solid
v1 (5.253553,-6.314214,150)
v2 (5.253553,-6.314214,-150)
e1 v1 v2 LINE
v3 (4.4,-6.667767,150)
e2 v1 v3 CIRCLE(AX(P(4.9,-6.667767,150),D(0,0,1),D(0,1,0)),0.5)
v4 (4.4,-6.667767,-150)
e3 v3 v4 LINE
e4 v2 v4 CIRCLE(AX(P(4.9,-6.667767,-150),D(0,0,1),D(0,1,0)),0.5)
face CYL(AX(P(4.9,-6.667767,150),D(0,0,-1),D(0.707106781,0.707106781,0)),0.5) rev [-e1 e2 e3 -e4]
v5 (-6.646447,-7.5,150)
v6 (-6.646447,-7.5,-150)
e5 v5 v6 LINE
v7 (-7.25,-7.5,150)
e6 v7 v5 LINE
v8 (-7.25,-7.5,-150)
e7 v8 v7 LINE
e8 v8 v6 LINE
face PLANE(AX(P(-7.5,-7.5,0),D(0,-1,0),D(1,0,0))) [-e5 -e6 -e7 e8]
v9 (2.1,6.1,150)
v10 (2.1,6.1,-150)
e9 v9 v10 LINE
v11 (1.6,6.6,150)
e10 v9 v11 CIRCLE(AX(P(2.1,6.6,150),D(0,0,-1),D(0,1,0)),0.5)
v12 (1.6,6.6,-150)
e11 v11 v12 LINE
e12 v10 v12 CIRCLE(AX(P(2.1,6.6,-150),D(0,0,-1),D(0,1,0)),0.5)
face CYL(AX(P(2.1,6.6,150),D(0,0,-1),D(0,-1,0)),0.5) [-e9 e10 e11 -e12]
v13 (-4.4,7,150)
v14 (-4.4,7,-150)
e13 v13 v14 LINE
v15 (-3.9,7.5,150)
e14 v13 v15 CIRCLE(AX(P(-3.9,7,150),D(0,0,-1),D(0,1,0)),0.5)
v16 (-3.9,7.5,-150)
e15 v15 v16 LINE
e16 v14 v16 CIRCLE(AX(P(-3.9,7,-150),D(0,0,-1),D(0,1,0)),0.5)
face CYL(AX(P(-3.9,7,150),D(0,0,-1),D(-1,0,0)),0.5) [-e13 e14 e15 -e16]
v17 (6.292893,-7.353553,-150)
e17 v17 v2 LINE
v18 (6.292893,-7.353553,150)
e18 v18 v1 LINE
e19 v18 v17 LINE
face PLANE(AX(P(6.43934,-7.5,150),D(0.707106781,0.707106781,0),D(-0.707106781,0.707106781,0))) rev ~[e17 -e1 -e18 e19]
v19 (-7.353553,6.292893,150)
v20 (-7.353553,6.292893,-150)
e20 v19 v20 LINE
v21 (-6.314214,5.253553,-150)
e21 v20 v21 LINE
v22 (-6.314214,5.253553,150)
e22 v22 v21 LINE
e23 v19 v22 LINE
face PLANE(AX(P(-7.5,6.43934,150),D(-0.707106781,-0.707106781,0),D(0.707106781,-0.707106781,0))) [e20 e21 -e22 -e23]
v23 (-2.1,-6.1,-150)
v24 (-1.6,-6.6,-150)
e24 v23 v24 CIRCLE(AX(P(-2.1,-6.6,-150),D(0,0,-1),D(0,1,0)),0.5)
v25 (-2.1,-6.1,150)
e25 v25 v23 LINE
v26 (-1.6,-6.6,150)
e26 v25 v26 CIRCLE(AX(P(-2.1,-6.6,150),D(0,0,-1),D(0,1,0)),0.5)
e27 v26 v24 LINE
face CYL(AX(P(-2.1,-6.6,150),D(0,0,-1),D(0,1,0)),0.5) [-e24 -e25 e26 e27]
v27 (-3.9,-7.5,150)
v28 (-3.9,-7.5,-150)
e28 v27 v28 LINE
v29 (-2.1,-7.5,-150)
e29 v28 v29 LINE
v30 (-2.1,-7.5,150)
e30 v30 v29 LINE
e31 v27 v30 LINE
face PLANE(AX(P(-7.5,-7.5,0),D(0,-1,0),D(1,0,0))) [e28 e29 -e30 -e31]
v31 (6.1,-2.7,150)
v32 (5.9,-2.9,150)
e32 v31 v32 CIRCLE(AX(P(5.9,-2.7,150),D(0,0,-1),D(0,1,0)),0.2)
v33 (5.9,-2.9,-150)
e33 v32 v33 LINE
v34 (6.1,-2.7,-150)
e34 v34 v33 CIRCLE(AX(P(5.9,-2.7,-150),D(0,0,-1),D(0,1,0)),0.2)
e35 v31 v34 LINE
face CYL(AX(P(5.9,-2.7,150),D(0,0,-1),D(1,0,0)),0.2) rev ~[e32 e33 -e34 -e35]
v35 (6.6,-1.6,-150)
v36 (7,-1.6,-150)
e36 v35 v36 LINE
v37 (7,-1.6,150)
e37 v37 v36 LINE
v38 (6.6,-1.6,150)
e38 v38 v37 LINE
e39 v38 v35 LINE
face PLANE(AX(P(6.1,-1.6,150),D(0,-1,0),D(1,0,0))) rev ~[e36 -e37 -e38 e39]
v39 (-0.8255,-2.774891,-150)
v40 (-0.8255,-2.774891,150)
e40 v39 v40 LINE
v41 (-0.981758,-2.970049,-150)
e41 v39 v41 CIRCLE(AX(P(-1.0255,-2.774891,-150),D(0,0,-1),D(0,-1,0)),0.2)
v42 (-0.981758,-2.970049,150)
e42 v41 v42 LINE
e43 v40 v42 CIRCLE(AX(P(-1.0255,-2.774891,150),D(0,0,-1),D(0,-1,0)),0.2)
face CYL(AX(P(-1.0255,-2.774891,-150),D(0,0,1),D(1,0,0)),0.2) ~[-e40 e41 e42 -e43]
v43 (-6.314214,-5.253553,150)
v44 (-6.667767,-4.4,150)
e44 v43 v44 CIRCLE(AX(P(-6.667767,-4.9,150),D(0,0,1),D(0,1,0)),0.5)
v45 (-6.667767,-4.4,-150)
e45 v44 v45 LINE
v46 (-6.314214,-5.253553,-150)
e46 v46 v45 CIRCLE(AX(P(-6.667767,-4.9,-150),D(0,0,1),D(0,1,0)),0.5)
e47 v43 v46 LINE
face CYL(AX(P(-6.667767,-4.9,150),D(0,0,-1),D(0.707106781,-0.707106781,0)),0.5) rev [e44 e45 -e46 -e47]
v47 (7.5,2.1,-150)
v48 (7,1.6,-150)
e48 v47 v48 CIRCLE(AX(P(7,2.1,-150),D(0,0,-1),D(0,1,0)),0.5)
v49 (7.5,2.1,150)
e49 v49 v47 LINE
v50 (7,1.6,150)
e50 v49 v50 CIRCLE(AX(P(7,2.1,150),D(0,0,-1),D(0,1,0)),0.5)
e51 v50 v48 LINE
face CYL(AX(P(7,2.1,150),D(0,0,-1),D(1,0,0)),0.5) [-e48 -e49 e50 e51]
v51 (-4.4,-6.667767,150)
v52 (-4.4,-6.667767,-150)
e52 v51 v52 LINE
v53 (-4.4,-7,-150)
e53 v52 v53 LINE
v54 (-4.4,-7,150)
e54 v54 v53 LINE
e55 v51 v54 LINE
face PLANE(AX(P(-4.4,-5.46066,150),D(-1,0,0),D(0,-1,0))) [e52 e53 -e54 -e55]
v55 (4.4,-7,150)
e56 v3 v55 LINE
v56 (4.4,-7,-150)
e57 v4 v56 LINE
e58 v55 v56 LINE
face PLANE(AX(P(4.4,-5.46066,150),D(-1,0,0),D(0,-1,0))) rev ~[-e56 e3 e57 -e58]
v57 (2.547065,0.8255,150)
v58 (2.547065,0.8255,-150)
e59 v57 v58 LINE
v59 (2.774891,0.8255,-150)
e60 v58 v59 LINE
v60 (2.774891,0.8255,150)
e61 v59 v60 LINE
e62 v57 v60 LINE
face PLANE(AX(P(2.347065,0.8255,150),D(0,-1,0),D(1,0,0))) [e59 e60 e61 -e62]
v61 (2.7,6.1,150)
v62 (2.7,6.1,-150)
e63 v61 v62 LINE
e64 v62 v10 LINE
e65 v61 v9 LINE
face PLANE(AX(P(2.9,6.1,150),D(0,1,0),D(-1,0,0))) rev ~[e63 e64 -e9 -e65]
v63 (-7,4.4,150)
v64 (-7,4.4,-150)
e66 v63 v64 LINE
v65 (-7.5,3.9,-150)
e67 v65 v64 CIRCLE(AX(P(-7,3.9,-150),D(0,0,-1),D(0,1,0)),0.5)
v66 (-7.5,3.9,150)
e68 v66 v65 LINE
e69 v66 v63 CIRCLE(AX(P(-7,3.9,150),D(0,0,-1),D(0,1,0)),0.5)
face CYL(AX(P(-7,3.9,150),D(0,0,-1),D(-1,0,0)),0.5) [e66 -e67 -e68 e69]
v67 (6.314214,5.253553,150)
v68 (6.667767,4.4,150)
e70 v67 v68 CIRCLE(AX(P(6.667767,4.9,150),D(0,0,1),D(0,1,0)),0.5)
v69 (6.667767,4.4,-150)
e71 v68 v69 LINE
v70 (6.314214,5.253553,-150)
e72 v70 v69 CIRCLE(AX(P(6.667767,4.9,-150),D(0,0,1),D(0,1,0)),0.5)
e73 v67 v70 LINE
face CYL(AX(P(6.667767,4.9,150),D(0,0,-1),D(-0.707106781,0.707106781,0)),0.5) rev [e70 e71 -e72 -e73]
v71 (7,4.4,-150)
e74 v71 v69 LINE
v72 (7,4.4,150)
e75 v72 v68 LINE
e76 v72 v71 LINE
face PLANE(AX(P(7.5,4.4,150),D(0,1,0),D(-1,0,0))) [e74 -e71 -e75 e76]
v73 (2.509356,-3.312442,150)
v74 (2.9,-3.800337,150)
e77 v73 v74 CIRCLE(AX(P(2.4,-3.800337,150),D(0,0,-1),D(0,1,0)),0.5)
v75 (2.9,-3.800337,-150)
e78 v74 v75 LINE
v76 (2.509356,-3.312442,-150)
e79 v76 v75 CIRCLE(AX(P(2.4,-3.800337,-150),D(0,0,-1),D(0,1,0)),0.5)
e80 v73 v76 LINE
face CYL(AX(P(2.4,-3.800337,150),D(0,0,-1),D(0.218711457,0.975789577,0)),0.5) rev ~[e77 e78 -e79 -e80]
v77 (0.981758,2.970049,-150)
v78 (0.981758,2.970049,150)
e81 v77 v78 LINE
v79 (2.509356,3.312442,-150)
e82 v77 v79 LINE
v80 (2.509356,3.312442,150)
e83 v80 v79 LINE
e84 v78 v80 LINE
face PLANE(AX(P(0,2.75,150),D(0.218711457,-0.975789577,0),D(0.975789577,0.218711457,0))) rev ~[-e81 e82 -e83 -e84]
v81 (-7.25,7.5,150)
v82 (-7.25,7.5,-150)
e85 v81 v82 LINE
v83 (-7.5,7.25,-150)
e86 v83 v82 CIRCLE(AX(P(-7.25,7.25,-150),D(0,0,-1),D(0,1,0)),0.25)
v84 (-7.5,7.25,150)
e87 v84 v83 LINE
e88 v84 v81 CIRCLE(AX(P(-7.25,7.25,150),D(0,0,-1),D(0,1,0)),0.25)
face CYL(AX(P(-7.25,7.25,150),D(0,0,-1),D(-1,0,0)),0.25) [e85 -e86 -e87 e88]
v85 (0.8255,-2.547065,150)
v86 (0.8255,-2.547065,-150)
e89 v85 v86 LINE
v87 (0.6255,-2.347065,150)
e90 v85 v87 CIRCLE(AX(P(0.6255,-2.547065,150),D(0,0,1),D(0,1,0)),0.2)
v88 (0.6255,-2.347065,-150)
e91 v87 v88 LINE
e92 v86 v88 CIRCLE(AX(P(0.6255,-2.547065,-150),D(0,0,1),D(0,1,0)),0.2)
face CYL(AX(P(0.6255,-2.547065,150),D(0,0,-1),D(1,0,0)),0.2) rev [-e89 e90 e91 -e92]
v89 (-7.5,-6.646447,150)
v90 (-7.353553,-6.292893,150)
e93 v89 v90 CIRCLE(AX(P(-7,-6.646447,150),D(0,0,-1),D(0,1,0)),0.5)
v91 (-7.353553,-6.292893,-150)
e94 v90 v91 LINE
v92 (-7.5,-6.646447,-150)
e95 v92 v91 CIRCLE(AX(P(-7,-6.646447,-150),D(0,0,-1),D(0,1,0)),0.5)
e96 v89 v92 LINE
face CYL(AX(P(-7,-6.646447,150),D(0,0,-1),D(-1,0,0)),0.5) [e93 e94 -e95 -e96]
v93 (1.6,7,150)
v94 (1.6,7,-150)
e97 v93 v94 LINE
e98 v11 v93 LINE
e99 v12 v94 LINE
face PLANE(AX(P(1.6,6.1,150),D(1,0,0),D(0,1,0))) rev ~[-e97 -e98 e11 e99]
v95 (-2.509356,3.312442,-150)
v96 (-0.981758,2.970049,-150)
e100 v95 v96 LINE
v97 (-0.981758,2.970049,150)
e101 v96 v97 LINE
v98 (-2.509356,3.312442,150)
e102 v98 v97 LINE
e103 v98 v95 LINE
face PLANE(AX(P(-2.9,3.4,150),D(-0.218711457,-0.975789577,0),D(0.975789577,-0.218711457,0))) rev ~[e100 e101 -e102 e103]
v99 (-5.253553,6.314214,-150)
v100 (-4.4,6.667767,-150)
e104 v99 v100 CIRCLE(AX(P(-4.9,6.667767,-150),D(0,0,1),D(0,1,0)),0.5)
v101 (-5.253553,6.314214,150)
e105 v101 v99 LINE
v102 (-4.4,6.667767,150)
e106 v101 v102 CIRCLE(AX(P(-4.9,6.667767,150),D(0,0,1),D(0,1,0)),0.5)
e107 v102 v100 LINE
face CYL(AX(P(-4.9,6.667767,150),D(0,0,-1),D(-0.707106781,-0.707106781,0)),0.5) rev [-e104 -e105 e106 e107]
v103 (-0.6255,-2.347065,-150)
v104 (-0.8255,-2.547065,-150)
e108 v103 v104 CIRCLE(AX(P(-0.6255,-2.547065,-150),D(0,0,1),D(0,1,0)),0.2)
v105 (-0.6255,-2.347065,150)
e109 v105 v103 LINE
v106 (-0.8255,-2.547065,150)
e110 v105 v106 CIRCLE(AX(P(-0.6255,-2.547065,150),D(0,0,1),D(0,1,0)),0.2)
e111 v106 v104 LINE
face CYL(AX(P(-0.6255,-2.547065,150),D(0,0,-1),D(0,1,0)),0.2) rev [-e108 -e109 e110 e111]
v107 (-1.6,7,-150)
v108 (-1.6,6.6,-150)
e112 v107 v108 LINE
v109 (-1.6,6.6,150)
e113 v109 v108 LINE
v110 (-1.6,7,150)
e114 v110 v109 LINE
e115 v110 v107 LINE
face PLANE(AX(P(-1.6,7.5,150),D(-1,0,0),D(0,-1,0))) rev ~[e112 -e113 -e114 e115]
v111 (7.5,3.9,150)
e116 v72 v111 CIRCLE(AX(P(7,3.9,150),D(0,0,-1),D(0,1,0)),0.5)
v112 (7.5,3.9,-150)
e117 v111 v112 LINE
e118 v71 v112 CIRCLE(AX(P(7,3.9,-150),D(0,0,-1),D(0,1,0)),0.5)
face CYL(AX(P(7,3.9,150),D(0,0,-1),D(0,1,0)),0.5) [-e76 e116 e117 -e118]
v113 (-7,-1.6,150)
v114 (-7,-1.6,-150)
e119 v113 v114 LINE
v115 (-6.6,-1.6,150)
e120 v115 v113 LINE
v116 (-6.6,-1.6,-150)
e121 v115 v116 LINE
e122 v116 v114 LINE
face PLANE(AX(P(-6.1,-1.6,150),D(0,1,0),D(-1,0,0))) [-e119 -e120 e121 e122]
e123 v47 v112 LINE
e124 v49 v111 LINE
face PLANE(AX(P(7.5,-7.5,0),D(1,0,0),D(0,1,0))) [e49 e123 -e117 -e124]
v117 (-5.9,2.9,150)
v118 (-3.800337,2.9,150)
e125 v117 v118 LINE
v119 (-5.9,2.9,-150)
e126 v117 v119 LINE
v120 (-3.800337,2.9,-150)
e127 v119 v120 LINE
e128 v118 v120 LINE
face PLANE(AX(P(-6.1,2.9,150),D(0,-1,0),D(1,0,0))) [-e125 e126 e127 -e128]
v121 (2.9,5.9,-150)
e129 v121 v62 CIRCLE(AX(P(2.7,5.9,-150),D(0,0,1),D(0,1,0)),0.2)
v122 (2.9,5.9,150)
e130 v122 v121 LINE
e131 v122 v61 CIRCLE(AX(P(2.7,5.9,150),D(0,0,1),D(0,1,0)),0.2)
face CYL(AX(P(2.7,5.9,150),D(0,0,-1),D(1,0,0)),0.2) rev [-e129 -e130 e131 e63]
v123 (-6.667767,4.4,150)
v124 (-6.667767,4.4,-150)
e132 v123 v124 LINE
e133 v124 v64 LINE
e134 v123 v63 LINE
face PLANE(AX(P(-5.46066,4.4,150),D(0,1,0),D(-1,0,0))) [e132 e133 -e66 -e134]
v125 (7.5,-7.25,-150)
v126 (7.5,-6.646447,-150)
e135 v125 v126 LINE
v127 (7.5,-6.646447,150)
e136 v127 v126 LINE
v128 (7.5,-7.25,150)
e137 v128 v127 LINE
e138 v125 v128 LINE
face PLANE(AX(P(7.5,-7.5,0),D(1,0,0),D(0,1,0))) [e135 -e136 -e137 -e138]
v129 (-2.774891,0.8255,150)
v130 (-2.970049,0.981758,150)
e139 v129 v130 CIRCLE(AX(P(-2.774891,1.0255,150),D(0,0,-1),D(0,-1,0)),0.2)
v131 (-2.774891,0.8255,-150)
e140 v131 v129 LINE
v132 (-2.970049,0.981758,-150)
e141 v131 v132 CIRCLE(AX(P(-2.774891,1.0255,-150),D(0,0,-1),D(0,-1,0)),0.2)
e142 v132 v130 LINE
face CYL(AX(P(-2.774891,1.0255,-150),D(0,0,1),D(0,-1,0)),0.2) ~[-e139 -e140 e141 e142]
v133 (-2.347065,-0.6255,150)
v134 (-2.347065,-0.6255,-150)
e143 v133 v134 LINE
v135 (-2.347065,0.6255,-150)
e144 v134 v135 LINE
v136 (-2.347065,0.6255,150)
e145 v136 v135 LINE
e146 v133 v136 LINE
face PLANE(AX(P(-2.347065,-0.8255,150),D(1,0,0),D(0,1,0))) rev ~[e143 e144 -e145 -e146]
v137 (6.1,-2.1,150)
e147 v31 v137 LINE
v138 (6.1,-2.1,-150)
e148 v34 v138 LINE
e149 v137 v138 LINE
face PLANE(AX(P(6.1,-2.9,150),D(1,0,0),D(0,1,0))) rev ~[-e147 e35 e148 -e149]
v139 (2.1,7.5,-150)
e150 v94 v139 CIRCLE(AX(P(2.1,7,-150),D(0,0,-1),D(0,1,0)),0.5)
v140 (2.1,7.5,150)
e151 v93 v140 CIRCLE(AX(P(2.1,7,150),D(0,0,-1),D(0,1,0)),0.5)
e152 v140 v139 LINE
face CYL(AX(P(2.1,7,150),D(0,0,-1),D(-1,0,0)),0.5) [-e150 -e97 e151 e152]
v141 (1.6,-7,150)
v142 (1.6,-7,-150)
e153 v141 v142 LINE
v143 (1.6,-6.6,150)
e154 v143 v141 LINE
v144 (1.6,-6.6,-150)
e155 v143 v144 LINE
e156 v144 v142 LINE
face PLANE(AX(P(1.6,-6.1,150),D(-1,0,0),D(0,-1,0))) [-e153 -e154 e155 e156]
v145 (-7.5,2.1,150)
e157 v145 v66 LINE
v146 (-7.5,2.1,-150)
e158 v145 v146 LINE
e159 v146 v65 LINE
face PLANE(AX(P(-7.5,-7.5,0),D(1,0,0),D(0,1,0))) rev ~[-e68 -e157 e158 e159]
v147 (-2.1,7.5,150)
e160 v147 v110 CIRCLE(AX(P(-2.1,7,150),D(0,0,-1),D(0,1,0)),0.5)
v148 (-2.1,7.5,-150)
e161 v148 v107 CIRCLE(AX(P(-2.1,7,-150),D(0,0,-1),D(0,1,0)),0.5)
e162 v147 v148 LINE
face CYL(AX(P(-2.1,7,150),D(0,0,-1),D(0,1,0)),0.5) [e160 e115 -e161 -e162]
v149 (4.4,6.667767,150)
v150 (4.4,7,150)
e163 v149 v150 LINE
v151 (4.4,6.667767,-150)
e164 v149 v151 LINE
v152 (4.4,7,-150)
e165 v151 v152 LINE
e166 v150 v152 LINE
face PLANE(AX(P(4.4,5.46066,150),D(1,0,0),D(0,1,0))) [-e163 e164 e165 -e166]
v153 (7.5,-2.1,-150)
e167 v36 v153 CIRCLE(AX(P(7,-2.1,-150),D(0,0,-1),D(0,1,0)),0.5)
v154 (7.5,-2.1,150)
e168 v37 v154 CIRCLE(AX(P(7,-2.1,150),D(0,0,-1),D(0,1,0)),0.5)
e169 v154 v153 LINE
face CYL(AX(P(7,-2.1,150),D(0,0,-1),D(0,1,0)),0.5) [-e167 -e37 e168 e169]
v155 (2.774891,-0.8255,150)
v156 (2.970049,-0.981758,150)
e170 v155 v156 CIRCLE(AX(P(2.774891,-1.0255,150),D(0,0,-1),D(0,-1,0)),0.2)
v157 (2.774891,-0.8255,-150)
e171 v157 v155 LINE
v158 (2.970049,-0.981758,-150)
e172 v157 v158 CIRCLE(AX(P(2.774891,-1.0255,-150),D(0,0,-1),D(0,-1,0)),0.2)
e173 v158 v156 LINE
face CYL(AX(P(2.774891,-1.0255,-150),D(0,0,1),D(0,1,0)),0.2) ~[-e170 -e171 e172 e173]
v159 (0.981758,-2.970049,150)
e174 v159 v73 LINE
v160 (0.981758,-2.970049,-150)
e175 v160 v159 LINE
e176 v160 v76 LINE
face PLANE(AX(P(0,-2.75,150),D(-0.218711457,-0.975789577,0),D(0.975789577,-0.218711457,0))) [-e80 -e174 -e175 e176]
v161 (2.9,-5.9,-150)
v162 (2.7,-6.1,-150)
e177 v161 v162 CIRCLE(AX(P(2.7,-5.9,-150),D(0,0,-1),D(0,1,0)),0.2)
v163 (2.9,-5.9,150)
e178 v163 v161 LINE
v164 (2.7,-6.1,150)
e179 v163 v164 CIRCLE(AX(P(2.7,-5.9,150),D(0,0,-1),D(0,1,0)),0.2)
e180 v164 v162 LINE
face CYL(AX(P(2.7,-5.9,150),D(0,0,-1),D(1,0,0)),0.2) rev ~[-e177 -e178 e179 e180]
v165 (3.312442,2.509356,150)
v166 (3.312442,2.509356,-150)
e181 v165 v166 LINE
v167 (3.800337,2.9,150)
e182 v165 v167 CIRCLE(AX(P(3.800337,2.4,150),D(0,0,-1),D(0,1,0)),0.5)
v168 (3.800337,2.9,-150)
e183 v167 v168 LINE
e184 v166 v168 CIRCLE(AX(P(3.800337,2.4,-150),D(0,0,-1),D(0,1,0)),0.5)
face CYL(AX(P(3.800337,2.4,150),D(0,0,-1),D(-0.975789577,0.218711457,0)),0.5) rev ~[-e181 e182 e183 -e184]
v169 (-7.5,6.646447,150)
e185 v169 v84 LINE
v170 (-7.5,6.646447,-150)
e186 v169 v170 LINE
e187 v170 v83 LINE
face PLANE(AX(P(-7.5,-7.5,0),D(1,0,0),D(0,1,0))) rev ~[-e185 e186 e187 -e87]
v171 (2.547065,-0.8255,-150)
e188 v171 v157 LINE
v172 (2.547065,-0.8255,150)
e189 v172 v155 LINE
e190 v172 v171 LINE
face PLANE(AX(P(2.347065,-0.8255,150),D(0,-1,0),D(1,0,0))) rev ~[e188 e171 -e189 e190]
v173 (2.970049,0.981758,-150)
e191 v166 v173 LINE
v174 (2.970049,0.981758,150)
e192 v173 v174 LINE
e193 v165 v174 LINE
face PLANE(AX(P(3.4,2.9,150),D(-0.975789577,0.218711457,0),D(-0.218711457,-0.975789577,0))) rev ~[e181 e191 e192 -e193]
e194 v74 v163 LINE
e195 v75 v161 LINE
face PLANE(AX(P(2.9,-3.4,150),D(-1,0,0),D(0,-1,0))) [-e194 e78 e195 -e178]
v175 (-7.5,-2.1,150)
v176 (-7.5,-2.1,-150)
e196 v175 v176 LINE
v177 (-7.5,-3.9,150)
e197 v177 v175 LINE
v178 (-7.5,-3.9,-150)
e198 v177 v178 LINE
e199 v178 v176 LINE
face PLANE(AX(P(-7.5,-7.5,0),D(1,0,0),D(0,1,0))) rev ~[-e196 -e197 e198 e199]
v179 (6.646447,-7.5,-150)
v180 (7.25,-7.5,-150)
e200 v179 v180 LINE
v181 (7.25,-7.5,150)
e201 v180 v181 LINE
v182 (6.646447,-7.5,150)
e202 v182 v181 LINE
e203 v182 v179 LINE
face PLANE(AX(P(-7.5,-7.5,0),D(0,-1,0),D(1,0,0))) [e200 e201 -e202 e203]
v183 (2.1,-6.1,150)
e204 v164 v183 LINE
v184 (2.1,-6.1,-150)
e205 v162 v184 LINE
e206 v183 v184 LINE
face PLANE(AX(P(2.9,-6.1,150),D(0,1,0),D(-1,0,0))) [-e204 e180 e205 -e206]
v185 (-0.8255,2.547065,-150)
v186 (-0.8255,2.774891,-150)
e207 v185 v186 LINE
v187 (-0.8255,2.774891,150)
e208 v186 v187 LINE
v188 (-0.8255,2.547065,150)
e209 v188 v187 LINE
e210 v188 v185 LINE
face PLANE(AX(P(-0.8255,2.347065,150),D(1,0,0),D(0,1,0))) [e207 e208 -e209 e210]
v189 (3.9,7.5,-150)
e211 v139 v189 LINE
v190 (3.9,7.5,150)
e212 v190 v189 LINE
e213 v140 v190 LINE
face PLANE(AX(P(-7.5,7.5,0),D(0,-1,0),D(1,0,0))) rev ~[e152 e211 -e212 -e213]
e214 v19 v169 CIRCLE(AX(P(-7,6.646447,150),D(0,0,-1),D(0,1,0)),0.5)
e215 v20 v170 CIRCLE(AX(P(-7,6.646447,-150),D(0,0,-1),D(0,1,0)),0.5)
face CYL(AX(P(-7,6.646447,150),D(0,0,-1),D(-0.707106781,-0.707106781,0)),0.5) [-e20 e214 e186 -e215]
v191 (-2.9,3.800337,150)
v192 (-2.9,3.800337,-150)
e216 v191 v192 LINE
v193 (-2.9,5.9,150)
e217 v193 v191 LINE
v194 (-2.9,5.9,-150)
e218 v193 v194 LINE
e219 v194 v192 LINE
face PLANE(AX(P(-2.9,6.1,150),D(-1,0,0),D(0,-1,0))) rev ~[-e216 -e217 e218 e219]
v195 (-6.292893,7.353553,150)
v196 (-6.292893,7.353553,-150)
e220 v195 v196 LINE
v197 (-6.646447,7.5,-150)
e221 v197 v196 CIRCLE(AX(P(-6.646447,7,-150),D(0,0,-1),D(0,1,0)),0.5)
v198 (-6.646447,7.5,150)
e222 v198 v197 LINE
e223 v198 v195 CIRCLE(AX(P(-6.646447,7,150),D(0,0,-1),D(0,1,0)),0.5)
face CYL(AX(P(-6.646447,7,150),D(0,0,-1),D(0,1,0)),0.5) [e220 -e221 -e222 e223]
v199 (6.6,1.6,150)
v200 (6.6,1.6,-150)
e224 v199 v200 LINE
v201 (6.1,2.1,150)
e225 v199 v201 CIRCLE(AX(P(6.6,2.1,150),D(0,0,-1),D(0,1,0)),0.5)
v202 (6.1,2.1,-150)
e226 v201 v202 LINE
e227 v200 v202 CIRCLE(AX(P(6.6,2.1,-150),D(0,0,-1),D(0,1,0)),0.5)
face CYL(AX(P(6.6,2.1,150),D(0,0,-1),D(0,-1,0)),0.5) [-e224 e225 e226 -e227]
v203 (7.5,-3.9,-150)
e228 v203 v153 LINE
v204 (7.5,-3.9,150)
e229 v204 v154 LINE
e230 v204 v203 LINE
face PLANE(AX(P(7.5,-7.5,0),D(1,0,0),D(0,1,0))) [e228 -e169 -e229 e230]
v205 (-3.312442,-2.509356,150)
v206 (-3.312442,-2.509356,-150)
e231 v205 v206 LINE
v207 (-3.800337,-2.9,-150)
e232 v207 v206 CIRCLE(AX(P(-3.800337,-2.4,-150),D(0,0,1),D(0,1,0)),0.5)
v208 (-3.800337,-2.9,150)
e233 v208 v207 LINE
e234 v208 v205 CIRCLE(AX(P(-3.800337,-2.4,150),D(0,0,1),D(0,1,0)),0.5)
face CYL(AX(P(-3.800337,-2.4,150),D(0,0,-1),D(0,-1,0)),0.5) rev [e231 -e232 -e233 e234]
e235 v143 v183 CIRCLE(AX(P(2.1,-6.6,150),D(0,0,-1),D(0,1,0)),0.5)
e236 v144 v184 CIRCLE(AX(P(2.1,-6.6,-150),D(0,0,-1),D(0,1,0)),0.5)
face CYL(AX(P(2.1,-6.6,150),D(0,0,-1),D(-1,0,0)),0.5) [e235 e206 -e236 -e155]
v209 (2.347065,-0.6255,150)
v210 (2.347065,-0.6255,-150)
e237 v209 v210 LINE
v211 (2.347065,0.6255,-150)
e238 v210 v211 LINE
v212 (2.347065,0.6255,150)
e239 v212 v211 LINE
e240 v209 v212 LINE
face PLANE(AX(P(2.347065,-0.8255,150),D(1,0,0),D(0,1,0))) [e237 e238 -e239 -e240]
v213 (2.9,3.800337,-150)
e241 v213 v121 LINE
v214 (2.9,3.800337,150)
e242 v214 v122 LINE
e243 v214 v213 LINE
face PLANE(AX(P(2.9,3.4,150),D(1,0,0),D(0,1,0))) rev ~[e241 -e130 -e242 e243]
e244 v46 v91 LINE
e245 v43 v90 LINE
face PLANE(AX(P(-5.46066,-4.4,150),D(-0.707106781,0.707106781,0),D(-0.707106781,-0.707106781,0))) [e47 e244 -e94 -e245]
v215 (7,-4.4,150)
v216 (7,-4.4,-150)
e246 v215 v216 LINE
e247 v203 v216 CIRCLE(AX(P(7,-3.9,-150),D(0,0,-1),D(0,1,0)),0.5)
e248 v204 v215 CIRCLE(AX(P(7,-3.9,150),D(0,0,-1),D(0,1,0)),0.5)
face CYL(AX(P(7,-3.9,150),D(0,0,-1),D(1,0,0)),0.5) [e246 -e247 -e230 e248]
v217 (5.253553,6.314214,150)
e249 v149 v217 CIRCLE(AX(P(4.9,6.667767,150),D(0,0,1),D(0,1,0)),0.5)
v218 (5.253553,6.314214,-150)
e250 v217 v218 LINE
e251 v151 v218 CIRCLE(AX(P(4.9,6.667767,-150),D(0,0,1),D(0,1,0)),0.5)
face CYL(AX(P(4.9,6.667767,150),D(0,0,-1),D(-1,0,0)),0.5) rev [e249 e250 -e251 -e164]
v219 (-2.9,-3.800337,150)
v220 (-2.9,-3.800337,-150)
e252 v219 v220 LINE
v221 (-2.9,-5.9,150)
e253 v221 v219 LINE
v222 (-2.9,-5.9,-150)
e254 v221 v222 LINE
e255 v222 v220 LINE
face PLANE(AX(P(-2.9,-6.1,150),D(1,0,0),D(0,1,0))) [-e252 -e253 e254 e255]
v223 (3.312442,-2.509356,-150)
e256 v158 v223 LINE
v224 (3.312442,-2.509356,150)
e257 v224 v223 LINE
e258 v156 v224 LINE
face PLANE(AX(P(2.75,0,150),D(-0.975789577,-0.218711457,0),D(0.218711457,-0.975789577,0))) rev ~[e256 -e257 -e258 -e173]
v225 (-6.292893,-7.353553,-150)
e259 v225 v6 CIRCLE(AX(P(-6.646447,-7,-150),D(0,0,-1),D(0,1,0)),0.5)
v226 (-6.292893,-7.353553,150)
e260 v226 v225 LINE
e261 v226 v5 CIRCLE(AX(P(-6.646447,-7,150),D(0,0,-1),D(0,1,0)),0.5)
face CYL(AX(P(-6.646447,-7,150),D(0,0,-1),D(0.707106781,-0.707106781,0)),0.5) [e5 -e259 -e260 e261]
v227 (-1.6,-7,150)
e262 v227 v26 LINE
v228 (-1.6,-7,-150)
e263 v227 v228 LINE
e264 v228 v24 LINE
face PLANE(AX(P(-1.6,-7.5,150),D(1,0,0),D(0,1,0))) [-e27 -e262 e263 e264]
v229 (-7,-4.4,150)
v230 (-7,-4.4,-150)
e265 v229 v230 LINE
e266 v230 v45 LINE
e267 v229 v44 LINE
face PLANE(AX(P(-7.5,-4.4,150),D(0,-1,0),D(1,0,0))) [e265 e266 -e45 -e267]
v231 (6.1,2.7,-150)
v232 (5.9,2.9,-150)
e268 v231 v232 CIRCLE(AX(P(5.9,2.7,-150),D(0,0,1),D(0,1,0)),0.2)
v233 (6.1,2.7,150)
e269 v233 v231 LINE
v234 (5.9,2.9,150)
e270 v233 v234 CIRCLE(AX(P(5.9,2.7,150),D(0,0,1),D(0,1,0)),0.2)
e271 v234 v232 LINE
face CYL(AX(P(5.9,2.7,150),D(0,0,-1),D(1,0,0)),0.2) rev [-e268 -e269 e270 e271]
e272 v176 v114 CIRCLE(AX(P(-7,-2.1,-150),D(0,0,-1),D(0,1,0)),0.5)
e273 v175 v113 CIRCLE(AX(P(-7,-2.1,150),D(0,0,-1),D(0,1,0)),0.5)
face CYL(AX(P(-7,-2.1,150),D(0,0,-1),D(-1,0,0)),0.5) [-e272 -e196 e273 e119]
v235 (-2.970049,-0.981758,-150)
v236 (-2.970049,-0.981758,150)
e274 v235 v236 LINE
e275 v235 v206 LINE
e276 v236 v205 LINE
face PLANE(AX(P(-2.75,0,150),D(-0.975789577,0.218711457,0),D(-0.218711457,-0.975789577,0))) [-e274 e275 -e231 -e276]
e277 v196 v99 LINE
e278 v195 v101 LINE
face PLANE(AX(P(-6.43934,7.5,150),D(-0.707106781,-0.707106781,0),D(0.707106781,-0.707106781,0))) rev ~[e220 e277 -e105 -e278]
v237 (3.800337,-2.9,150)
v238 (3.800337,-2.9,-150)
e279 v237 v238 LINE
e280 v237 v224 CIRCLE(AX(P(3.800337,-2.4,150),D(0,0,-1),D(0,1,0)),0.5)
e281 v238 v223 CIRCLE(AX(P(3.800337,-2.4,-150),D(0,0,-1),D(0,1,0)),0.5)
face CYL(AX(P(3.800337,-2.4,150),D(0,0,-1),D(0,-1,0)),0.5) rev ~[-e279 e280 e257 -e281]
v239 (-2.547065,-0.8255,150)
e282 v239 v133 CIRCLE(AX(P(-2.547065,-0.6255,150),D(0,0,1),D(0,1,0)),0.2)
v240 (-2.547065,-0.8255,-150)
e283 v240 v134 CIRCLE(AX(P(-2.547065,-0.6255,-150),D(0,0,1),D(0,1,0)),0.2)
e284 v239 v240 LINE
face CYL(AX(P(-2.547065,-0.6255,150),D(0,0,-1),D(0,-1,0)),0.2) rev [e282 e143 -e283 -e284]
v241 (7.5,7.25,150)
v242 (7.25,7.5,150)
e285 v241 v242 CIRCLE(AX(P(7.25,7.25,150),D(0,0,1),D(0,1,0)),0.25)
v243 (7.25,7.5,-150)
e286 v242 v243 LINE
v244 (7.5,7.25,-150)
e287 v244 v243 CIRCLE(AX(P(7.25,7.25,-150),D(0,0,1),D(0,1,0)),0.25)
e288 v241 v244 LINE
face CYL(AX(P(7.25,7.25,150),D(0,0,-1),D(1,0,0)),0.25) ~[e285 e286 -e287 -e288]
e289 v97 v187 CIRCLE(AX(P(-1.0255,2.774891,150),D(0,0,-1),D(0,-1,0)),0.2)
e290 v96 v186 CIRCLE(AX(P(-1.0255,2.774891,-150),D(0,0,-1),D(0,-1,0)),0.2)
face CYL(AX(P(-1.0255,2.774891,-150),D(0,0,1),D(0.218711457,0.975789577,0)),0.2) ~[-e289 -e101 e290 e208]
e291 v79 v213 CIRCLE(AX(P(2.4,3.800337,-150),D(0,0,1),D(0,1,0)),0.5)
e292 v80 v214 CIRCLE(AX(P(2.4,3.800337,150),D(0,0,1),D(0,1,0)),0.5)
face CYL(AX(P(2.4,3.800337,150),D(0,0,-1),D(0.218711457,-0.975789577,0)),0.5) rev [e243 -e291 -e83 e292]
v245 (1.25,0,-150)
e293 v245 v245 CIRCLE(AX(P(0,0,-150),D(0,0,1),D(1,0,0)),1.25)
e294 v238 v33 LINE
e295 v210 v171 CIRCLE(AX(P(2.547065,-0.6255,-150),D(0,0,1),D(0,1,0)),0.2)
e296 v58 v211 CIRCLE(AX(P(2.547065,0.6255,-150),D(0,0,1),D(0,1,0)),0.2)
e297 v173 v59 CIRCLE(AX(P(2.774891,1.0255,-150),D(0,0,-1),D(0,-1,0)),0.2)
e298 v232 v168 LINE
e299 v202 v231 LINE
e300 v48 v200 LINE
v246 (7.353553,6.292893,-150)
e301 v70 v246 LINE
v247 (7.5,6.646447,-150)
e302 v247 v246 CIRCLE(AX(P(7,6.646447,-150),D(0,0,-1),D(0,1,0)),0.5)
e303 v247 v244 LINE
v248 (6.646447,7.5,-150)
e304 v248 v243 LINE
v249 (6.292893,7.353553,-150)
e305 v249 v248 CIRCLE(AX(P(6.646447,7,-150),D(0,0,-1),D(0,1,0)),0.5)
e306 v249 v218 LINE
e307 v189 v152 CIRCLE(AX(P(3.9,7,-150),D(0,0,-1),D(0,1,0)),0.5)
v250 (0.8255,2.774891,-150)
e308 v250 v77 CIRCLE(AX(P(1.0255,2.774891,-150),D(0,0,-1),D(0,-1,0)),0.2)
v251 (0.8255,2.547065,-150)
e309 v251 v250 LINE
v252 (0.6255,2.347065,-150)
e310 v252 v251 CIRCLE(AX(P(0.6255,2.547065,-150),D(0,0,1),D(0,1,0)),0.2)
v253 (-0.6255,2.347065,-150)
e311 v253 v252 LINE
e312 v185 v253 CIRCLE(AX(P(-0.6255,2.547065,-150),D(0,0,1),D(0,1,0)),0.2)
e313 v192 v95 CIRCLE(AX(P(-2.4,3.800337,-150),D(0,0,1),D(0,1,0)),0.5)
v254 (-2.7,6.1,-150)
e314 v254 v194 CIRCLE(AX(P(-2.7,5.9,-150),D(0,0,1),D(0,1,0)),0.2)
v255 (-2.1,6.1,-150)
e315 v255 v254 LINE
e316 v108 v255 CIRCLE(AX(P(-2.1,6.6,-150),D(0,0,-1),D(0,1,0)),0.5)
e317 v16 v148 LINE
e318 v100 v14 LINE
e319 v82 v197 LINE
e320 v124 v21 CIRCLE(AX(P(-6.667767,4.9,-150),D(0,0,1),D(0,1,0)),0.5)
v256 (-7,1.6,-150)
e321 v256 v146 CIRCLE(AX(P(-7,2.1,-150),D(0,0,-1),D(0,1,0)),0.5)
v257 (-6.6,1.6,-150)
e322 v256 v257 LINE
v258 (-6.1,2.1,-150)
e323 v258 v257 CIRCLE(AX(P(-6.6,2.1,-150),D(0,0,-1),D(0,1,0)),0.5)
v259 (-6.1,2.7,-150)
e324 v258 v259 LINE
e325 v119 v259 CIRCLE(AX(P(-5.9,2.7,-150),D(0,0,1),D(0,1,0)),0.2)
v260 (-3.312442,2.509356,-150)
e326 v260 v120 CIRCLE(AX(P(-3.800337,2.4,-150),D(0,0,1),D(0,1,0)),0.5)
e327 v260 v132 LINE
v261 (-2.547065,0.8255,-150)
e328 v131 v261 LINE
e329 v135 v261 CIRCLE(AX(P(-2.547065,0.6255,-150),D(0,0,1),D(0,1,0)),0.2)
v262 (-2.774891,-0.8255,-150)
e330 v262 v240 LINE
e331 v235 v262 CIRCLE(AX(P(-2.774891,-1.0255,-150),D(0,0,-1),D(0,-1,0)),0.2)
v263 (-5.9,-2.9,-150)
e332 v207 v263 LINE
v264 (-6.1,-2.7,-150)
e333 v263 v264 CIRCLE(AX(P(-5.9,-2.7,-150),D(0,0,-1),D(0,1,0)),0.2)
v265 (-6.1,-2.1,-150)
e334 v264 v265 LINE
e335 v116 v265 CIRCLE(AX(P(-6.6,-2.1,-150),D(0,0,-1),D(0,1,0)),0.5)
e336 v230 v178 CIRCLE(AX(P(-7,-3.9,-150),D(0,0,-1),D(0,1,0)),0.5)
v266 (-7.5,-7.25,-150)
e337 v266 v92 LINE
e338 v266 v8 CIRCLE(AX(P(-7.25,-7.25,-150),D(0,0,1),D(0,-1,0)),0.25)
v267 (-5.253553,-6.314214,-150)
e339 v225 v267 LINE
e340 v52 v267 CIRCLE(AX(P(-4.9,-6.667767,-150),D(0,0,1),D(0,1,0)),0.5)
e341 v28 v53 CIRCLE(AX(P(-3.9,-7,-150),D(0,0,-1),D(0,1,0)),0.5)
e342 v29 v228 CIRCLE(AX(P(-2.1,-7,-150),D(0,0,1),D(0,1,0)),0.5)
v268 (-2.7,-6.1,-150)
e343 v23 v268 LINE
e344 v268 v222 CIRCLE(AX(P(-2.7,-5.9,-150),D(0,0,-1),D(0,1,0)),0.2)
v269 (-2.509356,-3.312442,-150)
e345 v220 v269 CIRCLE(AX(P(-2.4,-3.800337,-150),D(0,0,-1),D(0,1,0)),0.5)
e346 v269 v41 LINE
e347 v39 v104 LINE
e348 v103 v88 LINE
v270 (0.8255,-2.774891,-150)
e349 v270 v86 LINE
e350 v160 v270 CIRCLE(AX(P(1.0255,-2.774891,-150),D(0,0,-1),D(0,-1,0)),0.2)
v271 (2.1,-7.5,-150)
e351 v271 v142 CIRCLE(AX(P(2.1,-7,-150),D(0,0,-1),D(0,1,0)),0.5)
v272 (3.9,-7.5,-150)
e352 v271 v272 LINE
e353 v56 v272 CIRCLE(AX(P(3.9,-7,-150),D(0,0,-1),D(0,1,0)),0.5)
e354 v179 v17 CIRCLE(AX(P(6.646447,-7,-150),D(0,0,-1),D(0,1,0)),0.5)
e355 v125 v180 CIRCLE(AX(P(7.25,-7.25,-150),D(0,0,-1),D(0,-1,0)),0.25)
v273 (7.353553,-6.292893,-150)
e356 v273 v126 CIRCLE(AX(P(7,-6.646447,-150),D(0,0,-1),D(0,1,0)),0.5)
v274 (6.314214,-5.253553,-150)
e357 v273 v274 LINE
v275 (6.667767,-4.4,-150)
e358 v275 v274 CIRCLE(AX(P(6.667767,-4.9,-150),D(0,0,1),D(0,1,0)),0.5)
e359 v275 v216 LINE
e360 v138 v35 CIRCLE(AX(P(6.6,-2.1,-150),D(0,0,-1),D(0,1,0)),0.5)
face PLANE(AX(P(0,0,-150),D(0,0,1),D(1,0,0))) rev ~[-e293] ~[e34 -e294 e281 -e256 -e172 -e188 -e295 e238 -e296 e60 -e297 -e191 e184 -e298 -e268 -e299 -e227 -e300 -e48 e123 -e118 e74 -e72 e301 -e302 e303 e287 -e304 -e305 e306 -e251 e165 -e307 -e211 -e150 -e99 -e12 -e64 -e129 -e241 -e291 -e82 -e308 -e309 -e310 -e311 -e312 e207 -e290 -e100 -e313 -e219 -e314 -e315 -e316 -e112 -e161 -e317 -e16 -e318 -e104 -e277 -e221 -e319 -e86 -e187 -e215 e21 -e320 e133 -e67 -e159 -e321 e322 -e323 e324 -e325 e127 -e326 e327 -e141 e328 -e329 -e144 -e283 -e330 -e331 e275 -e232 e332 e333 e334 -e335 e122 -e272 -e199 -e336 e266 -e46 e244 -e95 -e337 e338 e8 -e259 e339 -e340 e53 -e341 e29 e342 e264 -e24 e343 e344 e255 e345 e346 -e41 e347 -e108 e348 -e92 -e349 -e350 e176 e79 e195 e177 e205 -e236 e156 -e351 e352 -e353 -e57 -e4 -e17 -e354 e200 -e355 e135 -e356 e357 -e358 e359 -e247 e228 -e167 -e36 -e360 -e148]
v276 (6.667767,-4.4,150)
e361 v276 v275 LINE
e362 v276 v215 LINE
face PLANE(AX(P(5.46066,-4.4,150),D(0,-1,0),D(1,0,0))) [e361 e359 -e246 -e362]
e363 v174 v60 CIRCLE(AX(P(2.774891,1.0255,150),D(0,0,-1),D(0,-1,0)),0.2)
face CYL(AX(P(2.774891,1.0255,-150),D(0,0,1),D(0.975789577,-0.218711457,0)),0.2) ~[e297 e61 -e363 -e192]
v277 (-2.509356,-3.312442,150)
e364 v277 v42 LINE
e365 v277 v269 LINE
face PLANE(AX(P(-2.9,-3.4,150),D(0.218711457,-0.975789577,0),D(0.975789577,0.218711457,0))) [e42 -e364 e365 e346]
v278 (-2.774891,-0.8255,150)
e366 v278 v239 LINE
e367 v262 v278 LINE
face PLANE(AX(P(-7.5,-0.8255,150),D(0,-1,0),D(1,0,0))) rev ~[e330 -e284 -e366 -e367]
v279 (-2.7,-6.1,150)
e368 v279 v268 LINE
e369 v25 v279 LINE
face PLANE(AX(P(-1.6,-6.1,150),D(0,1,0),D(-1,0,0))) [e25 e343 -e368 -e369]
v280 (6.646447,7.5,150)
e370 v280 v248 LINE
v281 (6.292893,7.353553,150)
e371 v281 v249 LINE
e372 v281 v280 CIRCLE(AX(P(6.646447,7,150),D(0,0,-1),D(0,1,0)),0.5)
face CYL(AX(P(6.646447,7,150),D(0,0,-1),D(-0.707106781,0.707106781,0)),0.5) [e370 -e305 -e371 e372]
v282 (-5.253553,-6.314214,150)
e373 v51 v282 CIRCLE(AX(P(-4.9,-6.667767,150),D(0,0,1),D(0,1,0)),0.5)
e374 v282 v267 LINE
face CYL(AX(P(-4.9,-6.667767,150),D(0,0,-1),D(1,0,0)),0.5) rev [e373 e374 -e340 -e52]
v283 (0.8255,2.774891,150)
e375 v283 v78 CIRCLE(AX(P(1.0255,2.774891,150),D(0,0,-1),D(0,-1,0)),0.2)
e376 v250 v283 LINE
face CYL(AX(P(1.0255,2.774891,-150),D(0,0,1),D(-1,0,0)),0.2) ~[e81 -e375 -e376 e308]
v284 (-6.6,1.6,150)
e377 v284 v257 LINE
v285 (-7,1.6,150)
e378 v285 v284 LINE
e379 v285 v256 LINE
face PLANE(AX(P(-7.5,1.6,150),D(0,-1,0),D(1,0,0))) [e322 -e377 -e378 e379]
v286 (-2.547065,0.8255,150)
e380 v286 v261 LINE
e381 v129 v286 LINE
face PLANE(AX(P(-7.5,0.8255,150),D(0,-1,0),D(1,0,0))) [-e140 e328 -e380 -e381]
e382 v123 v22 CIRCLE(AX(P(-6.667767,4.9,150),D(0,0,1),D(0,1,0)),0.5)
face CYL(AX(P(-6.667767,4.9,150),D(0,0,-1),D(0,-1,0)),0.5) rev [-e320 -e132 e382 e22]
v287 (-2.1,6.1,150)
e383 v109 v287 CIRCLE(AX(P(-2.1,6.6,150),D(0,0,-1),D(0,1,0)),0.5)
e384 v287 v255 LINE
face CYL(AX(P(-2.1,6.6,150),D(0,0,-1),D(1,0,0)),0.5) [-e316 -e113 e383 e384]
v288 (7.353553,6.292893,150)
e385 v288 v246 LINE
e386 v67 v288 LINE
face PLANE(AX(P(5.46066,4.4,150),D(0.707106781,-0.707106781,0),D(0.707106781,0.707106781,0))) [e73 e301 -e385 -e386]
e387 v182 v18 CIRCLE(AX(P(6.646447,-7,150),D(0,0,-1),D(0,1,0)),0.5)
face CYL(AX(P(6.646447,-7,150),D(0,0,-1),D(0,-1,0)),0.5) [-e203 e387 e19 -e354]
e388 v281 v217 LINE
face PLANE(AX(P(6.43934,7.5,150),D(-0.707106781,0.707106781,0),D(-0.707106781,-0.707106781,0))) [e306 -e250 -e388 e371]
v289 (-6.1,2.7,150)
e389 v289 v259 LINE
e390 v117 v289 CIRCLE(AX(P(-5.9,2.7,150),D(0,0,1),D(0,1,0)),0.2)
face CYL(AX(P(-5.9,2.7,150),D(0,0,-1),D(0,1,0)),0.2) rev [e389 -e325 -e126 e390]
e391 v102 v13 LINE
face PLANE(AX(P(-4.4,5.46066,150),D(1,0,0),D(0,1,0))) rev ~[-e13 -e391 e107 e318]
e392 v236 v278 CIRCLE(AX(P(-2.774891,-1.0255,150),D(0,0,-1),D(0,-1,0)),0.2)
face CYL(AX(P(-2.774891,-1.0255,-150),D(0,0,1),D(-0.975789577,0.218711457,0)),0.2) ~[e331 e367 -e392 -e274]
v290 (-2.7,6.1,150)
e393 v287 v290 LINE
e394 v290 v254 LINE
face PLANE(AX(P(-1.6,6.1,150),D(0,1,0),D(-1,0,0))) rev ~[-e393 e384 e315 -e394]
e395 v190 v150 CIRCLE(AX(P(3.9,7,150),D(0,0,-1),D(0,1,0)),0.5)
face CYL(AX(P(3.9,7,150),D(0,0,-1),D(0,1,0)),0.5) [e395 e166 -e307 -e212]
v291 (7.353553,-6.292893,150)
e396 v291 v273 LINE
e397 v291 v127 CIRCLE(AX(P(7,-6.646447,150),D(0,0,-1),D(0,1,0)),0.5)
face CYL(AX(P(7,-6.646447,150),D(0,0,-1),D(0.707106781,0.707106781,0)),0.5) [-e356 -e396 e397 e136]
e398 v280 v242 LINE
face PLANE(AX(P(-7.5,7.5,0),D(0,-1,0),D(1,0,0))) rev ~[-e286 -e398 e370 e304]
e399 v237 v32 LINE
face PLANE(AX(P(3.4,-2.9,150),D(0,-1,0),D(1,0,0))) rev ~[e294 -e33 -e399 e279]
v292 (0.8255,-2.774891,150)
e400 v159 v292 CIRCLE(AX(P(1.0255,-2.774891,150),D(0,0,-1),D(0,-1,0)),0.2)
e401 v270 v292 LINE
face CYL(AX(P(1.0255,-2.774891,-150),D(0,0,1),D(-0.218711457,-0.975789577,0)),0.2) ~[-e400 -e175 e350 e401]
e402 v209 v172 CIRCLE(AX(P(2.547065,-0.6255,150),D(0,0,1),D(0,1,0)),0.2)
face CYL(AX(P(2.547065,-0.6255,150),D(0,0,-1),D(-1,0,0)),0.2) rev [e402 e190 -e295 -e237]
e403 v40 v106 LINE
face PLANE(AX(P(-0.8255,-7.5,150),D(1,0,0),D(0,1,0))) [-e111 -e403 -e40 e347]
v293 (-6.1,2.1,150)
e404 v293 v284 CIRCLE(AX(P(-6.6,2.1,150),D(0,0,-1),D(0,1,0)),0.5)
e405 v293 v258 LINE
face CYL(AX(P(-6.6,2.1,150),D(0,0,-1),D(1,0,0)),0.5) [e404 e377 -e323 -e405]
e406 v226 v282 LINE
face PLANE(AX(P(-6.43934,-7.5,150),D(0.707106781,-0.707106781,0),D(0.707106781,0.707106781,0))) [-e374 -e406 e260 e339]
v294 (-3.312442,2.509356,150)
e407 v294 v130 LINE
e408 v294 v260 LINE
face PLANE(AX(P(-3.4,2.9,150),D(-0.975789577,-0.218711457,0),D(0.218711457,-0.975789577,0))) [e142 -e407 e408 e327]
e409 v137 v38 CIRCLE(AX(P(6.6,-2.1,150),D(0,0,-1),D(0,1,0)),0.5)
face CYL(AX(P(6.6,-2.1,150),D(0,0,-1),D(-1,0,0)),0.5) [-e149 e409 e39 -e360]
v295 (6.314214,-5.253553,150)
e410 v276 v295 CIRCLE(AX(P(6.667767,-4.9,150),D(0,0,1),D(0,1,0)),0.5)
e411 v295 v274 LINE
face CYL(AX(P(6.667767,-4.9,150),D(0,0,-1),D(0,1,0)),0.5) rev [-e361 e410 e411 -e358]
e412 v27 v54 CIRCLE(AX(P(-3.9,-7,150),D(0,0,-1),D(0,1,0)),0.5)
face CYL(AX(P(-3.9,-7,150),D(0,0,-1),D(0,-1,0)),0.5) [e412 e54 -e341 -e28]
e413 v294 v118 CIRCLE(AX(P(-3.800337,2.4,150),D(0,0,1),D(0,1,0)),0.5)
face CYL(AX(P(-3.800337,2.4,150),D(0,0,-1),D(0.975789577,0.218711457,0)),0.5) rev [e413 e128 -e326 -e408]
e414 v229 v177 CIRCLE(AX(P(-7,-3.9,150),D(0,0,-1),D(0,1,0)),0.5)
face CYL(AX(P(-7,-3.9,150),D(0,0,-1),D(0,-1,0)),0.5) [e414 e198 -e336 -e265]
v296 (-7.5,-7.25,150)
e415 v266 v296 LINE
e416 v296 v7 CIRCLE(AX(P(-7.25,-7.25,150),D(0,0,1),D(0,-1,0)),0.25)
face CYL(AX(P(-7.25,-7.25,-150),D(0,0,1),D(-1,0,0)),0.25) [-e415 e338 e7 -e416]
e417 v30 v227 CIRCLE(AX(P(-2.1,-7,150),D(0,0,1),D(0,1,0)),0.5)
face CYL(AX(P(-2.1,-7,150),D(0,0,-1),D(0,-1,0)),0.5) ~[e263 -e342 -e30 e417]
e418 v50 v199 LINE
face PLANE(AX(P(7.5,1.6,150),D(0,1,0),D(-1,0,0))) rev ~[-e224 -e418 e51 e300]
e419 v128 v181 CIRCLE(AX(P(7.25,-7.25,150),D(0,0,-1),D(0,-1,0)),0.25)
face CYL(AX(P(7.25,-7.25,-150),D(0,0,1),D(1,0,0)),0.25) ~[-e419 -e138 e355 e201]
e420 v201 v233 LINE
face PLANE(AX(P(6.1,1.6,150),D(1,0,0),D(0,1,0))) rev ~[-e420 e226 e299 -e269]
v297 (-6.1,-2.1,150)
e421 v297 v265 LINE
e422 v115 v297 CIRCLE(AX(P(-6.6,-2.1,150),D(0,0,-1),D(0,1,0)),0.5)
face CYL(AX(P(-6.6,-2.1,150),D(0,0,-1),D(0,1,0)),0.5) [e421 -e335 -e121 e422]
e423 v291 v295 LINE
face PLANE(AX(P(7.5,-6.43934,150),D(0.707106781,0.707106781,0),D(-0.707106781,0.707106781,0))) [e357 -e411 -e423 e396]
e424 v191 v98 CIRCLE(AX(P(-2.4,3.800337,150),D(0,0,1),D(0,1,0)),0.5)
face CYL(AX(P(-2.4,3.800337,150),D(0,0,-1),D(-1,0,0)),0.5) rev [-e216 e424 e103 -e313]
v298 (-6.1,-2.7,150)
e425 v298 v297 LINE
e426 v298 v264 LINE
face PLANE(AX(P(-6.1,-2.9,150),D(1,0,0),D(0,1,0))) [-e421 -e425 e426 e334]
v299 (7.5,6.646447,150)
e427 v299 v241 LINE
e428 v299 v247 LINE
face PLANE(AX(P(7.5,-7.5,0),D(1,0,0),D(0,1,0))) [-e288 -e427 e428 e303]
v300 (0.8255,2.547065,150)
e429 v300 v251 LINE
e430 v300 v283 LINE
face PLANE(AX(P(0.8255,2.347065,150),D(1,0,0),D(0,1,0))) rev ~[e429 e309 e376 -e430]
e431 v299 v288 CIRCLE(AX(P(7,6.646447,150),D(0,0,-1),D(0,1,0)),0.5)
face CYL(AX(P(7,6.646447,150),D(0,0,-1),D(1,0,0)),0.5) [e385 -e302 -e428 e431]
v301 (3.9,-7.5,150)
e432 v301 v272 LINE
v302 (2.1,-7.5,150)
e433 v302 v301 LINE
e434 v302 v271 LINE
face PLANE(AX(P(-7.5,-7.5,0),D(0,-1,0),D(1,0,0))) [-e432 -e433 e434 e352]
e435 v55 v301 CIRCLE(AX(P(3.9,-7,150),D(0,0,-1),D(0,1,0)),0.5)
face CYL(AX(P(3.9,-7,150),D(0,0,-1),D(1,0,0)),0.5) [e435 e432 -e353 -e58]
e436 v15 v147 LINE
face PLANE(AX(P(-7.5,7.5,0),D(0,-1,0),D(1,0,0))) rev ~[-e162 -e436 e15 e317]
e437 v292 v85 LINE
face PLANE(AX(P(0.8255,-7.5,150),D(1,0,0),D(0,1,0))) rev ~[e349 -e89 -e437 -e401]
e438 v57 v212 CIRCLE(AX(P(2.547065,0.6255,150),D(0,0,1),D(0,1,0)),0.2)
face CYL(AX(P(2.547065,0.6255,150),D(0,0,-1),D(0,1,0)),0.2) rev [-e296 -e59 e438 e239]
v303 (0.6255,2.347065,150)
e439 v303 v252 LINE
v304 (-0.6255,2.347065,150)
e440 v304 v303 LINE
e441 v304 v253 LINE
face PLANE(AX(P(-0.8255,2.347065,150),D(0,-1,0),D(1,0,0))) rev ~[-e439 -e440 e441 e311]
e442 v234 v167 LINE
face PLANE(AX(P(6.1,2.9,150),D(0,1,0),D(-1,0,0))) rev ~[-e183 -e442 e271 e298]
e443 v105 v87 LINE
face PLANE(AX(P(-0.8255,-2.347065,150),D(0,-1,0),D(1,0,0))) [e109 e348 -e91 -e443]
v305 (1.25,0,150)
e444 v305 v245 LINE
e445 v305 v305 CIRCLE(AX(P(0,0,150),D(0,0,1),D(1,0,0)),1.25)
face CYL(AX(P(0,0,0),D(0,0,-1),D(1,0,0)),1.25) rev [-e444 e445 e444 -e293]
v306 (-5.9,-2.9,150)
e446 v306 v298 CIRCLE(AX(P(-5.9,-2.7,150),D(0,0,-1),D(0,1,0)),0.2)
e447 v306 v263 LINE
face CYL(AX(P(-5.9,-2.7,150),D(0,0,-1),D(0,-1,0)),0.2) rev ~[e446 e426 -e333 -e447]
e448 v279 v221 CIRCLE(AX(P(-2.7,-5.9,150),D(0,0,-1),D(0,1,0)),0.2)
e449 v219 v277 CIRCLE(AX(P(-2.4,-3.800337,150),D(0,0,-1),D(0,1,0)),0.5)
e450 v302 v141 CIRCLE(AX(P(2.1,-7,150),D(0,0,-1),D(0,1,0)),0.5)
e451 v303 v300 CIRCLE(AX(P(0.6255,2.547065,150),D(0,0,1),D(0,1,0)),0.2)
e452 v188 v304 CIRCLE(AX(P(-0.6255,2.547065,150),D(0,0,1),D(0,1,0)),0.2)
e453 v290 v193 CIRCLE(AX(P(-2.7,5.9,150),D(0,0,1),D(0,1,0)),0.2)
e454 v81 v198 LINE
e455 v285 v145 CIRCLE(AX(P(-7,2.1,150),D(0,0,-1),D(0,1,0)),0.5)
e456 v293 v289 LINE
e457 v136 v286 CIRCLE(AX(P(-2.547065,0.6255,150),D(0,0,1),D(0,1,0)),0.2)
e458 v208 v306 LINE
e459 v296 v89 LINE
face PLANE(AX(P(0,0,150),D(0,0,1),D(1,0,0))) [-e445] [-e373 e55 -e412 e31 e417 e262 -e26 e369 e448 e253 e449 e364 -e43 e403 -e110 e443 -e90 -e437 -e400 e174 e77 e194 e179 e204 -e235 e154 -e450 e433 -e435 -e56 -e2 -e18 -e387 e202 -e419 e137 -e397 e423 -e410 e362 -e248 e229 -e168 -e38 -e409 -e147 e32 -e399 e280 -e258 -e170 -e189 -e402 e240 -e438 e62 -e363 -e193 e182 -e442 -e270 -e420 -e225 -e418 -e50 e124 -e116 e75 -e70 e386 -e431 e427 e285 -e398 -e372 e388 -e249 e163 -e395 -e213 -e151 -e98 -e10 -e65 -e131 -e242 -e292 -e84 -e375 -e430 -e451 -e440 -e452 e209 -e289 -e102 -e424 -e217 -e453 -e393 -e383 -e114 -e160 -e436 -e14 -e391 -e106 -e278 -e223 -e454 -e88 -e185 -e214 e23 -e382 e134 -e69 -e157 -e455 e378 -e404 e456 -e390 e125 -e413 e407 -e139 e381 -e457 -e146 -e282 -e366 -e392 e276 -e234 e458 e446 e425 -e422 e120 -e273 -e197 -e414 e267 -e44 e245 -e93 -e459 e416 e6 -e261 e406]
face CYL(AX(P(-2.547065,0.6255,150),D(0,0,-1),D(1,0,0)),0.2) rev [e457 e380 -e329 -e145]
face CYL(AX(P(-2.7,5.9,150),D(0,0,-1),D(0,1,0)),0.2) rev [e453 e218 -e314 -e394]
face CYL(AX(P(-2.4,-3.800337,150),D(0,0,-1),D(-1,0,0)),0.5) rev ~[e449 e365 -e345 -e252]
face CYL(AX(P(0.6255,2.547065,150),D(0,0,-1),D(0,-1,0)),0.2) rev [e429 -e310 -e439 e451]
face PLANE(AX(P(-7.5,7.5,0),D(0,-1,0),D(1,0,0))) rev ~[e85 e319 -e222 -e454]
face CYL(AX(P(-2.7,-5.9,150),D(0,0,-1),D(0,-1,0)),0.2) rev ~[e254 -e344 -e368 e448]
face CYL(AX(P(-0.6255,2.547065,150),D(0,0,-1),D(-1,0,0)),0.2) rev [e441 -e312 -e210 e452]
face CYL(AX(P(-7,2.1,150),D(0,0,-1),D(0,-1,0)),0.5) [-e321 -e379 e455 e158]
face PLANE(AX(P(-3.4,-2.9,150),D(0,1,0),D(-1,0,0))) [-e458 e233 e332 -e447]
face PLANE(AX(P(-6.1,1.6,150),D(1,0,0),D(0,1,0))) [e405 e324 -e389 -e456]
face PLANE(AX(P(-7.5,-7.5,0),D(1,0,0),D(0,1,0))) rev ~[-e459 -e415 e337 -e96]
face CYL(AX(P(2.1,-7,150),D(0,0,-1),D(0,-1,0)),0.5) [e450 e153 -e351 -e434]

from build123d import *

# Parameters (mm, degrees)
SKETCH1_W           = 15
SKETCH1_H           = 15
SKETCH1_R           = 1.25
CHANGE_LENGTH_DEPTH = 150
FILLET1_R           = 0.25
CUT_EXTRUDE1_DEPTH  = 301.187441443
CUT_EXTRUDE3_DEPTH  = 301.187441443
FILLET3_R           = 0.5
FILLET4_R           = 0.5
FILLET5_R           = 3
FILLET6_R           = 0.2
CUT_EXTRUDE4_DEPTH  = 301.187441443
FILLET8_R           = 0.5
SKETCH6_W           = 5.1529354
SKETCH6_H           = 1.651
SKETCH6_W_2         = 1.651
SKETCH6_H_2         = 5.1529354
CUT_EXTRUDE5_DEPTH  = 301.187441443
FILLET10_R          = 0.2


with BuildPart() as part:
    # Sketch1 → Change length (new, symmetric)
    with BuildSketch(Plane.XY):
        Rectangle(SKETCH1_W, SKETCH1_H)
        Circle(SKETCH1_R, mode=Mode.SUBTRACT)
    extrude(amount=CHANGE_LENGTH_DEPTH, both=True)

    # Fillet1
    fillet1_edges = [part.edges().sort_by_distance(p)[0] for p in [
        (7.5, -7.5, 0),
        (-7.5, -7.5, 0),
        (-7.5, 7.5, 0),
        (7.5, 7.5, 0),
    ]]
    fillet(fillet1_edges, radius=FILLET1_R)

    # Sketch2 → Cut-Extrude1 (cut, through all)
    with BuildSketch(Plane.XY.offset(150)):
        Polygon((-7.5, 1.6), (-6.1, 1.6), (-6.1, 2.9), (-3.4, 2.9), (-3.4, -2.9), (-6.1, -2.9), (-6.1, -1.6), (-7.5, -1.6), align=None)
        Polygon((2.9, 6.1), (1.6, 6.1), (1.6, 7.5), (-1.6, 7.5), (-1.6, 6.1), (-2.9, 6.1), (-2.9, 3.4), (2.9, 3.4), align=None)
        Polygon((-1.6, -7.5), (-1.6, -6.1), (-2.9, -6.1), (-2.9, -3.4), (2.9, -3.4), (2.9, -6.1), (1.6, -6.1), (1.6, -7.5), align=None)
        Polygon((6.1, -2.9), (6.1, -1.6), (7.5, -1.6), (7.5, 1.6), (6.1, 1.6), (6.1, 2.9), (3.4, 2.9), (3.4, -2.9), align=None)
    extrude(amount=-CUT_EXTRUDE1_DEPTH, mode=Mode.SUBTRACT)

    # Sketch4 → Cut-Extrude3 (cut, through all)
    with BuildSketch(Plane.XY.offset(150)):
        Polygon((-3.4, 2.9), (-2.75, 0), (-3.4, -2.9), align=None)
        Polygon((-2.9, 3.4), (0, 2.75), (2.9, 3.4), align=None)
        Polygon((3.4, 2.9), (2.75, 0), (3.4, -2.9), align=None)
        Polygon((-2.9, -3.4), (0, -2.75), (2.9, -3.4), align=None)
    extrude(amount=-CUT_EXTRUDE3_DEPTH, mode=Mode.SUBTRACT)

    # Fillet3
    fillet3_edges = [part.edges().sort_by_distance(p)[0] for p in [
        (1.6, -7.5, 0),
        (-1.6, -7.5, 0),
        (-1.6, -6.1, 0),
        (1.6, -6.1, 0),
        (6.1, 1.6, 0),
        (7.5, 1.6, 0),
        (7.5, -1.6, 0),
        (6.1, -1.6, 0),
        (-7.5, -1.6, 0),
        (-7.5, 1.6, 0),
        (-6.1, 1.6, 0),
        (-6.1, -1.6, 0),
        (-1.6, 6.1, 0),
        (-1.6, 7.5, 0),
        (1.6, 7.5, 0),
        (1.6, 6.1, 0),
    ]]
    fillet(fillet3_edges, radius=FILLET3_R)

    # Fillet4
    fillet4_edges = [part.edges().sort_by_distance(p)[0] for p in [
        (-2.9, -3.4, 0),
        (2.9, -3.4, 0),
        (3.4, -2.9, 0),
        (3.4, 2.9, 0),
        (-3.4, 2.9, 0),
        (-3.4, -2.9, 0),
        (2.9, 3.4, 0),
        (-2.9, 3.4, 0),
    ]]
    fillet(fillet4_edges, radius=FILLET4_R)

    # Fillet5
    fillet5_edges = [part.edges().sort_by_distance(p)[0] for p in [
        (-2.75, 0, 0),
        (0, 2.75, 0),
        (2.75, 0, 0),
        (0, -2.75, 0),
    ]]
    fillet(fillet5_edges, radius=FILLET5_R)

    # Fillet6
    fillet6_edges = [part.edges().sort_by_distance(p)[0] for p in [
        (-2.9, -6.1, 0),
        (2.9, -6.1, 0),
        (6.1, -2.9, 0),
        (6.1, 2.9, 0),
        (-6.1, 2.9, 0),
        (-6.1, -2.9, 0),
        (2.9, 6.1, 0),
        (-2.9, 6.1, 0),
    ]]
    fillet(fillet6_edges, radius=FILLET6_R)

    # Sketch5 → Cut-Extrude4 (cut, through all)
    with BuildSketch(Plane.XY.offset(150)):
        Polygon((-7.5, 6.439339828), (-5.460660172, 4.4), (-7.5, 4.4), align=None)
        Polygon((-6.439339828, 7.5), (-4.4, 5.460660172), (-4.4, 7.5), align=None)
        Polygon((4.4, 7.5), (6.439339828, 7.5), (4.4, 5.460660172), align=None)
        Polygon((7.5, 6.439339828), (7.5, 4.4), (5.460660172, 4.4), align=None)
        Polygon((7.5, -6.439339828), (5.460660172, -4.4), (7.5, -4.4), align=None)
        Polygon((6.439339828, -7.5), (4.4, -5.460660172), (4.4, -7.5), align=None)
        Polygon((-4.4, -7.5), (-6.439339828, -7.5), (-4.4, -5.460660172), align=None)
        Polygon((-7.5, -6.439339828), (-7.5, -4.4), (-5.460660172, -4.4), align=None)
    extrude(amount=-CUT_EXTRUDE4_DEPTH, mode=Mode.SUBTRACT)

    # Fillet8
    fillet8_edges = [part.edges().sort_by_distance(p)[0] for p in [
        (-7.5, 4.4, 0),
        (-7.5, 6.439339828, 0),
        (-5.460660172, 4.4, 0),
        (7.5, -4.4, 0),
        (7.5, -6.439339828, 0),
        (5.460660172, -4.4, 0),
        (5.460660172, 4.4, 0),
        (7.5, 6.439339828, 0),
        (7.5, 4.4, 0),
        (-4.4, 7.5, 0),
        (-4.4, 5.460660172, 0),
        (-6.439339828, 7.5, 0),
        (-5.460660172, -4.4, 0),
        (-7.5, -6.439339828, 0),
        (-7.5, -4.4, 0),
        (4.4, 5.460660172, 0),
        (4.4, 7.5, 0),
        (6.439339828, 7.5, 0),
        (6.439339828, -7.5, 0),
        (4.4, -7.5, 0),
        (4.4, -5.460660172, 0),
        (-6.439339828, -7.5, 0),
        (-4.4, -5.460660172, 0),
        (-4.4, -7.5, 0),
    ]]
    fillet(fillet8_edges, radius=FILLET8_R)

    # Sketch6 → Cut-Extrude5 (cut, through all)
    with BuildSketch(Plane.XY.offset(150)):
        with Locations((4.9235323, 0)):
            Rectangle(SKETCH6_W, SKETCH6_H)
        with Locations((0, -4.9235323)):
            Rectangle(SKETCH6_W_2, SKETCH6_H_2)
        with Locations((-4.9235323, 0)):
            Rectangle(SKETCH6_W, SKETCH6_H)
        with Locations((0, 4.9235323)):
            Rectangle(SKETCH6_W_2, SKETCH6_H_2)
    extrude(amount=-CUT_EXTRUDE5_DEPTH, mode=Mode.SUBTRACT)

    # Fillet10
    fillet10_edges = [part.edges().sort_by_distance(p)[0] for p in [
        (0.8255, -2.935025862, 0),
        (-0.8255, -2.935025862, 0),
        (0.8255, -2.3470646, 0),
        (-0.8255, -2.3470646, 0),
        (2.935025862, 0.8255, 0),
        (2.935025862, -0.8255, 0),
        (2.3470646, 0.8255, 0),
        (2.3470646, -0.8255, 0),
        (-2.935025862, -0.8255, 0),
        (-2.935025862, 0.8255, 0),
        (-2.3470646, -0.8255, 0),
        (-2.3470646, 0.8255, 0),
        (-0.8255, 2.935025862, 0),
        (0.8255, 2.935025862, 0),
        (-0.8255, 2.3470646, 0),
        (0.8255, 2.3470646, 0),
    ]]
    fillet(fillet10_edges, radius=FILLET10_R)


solid = part.part
